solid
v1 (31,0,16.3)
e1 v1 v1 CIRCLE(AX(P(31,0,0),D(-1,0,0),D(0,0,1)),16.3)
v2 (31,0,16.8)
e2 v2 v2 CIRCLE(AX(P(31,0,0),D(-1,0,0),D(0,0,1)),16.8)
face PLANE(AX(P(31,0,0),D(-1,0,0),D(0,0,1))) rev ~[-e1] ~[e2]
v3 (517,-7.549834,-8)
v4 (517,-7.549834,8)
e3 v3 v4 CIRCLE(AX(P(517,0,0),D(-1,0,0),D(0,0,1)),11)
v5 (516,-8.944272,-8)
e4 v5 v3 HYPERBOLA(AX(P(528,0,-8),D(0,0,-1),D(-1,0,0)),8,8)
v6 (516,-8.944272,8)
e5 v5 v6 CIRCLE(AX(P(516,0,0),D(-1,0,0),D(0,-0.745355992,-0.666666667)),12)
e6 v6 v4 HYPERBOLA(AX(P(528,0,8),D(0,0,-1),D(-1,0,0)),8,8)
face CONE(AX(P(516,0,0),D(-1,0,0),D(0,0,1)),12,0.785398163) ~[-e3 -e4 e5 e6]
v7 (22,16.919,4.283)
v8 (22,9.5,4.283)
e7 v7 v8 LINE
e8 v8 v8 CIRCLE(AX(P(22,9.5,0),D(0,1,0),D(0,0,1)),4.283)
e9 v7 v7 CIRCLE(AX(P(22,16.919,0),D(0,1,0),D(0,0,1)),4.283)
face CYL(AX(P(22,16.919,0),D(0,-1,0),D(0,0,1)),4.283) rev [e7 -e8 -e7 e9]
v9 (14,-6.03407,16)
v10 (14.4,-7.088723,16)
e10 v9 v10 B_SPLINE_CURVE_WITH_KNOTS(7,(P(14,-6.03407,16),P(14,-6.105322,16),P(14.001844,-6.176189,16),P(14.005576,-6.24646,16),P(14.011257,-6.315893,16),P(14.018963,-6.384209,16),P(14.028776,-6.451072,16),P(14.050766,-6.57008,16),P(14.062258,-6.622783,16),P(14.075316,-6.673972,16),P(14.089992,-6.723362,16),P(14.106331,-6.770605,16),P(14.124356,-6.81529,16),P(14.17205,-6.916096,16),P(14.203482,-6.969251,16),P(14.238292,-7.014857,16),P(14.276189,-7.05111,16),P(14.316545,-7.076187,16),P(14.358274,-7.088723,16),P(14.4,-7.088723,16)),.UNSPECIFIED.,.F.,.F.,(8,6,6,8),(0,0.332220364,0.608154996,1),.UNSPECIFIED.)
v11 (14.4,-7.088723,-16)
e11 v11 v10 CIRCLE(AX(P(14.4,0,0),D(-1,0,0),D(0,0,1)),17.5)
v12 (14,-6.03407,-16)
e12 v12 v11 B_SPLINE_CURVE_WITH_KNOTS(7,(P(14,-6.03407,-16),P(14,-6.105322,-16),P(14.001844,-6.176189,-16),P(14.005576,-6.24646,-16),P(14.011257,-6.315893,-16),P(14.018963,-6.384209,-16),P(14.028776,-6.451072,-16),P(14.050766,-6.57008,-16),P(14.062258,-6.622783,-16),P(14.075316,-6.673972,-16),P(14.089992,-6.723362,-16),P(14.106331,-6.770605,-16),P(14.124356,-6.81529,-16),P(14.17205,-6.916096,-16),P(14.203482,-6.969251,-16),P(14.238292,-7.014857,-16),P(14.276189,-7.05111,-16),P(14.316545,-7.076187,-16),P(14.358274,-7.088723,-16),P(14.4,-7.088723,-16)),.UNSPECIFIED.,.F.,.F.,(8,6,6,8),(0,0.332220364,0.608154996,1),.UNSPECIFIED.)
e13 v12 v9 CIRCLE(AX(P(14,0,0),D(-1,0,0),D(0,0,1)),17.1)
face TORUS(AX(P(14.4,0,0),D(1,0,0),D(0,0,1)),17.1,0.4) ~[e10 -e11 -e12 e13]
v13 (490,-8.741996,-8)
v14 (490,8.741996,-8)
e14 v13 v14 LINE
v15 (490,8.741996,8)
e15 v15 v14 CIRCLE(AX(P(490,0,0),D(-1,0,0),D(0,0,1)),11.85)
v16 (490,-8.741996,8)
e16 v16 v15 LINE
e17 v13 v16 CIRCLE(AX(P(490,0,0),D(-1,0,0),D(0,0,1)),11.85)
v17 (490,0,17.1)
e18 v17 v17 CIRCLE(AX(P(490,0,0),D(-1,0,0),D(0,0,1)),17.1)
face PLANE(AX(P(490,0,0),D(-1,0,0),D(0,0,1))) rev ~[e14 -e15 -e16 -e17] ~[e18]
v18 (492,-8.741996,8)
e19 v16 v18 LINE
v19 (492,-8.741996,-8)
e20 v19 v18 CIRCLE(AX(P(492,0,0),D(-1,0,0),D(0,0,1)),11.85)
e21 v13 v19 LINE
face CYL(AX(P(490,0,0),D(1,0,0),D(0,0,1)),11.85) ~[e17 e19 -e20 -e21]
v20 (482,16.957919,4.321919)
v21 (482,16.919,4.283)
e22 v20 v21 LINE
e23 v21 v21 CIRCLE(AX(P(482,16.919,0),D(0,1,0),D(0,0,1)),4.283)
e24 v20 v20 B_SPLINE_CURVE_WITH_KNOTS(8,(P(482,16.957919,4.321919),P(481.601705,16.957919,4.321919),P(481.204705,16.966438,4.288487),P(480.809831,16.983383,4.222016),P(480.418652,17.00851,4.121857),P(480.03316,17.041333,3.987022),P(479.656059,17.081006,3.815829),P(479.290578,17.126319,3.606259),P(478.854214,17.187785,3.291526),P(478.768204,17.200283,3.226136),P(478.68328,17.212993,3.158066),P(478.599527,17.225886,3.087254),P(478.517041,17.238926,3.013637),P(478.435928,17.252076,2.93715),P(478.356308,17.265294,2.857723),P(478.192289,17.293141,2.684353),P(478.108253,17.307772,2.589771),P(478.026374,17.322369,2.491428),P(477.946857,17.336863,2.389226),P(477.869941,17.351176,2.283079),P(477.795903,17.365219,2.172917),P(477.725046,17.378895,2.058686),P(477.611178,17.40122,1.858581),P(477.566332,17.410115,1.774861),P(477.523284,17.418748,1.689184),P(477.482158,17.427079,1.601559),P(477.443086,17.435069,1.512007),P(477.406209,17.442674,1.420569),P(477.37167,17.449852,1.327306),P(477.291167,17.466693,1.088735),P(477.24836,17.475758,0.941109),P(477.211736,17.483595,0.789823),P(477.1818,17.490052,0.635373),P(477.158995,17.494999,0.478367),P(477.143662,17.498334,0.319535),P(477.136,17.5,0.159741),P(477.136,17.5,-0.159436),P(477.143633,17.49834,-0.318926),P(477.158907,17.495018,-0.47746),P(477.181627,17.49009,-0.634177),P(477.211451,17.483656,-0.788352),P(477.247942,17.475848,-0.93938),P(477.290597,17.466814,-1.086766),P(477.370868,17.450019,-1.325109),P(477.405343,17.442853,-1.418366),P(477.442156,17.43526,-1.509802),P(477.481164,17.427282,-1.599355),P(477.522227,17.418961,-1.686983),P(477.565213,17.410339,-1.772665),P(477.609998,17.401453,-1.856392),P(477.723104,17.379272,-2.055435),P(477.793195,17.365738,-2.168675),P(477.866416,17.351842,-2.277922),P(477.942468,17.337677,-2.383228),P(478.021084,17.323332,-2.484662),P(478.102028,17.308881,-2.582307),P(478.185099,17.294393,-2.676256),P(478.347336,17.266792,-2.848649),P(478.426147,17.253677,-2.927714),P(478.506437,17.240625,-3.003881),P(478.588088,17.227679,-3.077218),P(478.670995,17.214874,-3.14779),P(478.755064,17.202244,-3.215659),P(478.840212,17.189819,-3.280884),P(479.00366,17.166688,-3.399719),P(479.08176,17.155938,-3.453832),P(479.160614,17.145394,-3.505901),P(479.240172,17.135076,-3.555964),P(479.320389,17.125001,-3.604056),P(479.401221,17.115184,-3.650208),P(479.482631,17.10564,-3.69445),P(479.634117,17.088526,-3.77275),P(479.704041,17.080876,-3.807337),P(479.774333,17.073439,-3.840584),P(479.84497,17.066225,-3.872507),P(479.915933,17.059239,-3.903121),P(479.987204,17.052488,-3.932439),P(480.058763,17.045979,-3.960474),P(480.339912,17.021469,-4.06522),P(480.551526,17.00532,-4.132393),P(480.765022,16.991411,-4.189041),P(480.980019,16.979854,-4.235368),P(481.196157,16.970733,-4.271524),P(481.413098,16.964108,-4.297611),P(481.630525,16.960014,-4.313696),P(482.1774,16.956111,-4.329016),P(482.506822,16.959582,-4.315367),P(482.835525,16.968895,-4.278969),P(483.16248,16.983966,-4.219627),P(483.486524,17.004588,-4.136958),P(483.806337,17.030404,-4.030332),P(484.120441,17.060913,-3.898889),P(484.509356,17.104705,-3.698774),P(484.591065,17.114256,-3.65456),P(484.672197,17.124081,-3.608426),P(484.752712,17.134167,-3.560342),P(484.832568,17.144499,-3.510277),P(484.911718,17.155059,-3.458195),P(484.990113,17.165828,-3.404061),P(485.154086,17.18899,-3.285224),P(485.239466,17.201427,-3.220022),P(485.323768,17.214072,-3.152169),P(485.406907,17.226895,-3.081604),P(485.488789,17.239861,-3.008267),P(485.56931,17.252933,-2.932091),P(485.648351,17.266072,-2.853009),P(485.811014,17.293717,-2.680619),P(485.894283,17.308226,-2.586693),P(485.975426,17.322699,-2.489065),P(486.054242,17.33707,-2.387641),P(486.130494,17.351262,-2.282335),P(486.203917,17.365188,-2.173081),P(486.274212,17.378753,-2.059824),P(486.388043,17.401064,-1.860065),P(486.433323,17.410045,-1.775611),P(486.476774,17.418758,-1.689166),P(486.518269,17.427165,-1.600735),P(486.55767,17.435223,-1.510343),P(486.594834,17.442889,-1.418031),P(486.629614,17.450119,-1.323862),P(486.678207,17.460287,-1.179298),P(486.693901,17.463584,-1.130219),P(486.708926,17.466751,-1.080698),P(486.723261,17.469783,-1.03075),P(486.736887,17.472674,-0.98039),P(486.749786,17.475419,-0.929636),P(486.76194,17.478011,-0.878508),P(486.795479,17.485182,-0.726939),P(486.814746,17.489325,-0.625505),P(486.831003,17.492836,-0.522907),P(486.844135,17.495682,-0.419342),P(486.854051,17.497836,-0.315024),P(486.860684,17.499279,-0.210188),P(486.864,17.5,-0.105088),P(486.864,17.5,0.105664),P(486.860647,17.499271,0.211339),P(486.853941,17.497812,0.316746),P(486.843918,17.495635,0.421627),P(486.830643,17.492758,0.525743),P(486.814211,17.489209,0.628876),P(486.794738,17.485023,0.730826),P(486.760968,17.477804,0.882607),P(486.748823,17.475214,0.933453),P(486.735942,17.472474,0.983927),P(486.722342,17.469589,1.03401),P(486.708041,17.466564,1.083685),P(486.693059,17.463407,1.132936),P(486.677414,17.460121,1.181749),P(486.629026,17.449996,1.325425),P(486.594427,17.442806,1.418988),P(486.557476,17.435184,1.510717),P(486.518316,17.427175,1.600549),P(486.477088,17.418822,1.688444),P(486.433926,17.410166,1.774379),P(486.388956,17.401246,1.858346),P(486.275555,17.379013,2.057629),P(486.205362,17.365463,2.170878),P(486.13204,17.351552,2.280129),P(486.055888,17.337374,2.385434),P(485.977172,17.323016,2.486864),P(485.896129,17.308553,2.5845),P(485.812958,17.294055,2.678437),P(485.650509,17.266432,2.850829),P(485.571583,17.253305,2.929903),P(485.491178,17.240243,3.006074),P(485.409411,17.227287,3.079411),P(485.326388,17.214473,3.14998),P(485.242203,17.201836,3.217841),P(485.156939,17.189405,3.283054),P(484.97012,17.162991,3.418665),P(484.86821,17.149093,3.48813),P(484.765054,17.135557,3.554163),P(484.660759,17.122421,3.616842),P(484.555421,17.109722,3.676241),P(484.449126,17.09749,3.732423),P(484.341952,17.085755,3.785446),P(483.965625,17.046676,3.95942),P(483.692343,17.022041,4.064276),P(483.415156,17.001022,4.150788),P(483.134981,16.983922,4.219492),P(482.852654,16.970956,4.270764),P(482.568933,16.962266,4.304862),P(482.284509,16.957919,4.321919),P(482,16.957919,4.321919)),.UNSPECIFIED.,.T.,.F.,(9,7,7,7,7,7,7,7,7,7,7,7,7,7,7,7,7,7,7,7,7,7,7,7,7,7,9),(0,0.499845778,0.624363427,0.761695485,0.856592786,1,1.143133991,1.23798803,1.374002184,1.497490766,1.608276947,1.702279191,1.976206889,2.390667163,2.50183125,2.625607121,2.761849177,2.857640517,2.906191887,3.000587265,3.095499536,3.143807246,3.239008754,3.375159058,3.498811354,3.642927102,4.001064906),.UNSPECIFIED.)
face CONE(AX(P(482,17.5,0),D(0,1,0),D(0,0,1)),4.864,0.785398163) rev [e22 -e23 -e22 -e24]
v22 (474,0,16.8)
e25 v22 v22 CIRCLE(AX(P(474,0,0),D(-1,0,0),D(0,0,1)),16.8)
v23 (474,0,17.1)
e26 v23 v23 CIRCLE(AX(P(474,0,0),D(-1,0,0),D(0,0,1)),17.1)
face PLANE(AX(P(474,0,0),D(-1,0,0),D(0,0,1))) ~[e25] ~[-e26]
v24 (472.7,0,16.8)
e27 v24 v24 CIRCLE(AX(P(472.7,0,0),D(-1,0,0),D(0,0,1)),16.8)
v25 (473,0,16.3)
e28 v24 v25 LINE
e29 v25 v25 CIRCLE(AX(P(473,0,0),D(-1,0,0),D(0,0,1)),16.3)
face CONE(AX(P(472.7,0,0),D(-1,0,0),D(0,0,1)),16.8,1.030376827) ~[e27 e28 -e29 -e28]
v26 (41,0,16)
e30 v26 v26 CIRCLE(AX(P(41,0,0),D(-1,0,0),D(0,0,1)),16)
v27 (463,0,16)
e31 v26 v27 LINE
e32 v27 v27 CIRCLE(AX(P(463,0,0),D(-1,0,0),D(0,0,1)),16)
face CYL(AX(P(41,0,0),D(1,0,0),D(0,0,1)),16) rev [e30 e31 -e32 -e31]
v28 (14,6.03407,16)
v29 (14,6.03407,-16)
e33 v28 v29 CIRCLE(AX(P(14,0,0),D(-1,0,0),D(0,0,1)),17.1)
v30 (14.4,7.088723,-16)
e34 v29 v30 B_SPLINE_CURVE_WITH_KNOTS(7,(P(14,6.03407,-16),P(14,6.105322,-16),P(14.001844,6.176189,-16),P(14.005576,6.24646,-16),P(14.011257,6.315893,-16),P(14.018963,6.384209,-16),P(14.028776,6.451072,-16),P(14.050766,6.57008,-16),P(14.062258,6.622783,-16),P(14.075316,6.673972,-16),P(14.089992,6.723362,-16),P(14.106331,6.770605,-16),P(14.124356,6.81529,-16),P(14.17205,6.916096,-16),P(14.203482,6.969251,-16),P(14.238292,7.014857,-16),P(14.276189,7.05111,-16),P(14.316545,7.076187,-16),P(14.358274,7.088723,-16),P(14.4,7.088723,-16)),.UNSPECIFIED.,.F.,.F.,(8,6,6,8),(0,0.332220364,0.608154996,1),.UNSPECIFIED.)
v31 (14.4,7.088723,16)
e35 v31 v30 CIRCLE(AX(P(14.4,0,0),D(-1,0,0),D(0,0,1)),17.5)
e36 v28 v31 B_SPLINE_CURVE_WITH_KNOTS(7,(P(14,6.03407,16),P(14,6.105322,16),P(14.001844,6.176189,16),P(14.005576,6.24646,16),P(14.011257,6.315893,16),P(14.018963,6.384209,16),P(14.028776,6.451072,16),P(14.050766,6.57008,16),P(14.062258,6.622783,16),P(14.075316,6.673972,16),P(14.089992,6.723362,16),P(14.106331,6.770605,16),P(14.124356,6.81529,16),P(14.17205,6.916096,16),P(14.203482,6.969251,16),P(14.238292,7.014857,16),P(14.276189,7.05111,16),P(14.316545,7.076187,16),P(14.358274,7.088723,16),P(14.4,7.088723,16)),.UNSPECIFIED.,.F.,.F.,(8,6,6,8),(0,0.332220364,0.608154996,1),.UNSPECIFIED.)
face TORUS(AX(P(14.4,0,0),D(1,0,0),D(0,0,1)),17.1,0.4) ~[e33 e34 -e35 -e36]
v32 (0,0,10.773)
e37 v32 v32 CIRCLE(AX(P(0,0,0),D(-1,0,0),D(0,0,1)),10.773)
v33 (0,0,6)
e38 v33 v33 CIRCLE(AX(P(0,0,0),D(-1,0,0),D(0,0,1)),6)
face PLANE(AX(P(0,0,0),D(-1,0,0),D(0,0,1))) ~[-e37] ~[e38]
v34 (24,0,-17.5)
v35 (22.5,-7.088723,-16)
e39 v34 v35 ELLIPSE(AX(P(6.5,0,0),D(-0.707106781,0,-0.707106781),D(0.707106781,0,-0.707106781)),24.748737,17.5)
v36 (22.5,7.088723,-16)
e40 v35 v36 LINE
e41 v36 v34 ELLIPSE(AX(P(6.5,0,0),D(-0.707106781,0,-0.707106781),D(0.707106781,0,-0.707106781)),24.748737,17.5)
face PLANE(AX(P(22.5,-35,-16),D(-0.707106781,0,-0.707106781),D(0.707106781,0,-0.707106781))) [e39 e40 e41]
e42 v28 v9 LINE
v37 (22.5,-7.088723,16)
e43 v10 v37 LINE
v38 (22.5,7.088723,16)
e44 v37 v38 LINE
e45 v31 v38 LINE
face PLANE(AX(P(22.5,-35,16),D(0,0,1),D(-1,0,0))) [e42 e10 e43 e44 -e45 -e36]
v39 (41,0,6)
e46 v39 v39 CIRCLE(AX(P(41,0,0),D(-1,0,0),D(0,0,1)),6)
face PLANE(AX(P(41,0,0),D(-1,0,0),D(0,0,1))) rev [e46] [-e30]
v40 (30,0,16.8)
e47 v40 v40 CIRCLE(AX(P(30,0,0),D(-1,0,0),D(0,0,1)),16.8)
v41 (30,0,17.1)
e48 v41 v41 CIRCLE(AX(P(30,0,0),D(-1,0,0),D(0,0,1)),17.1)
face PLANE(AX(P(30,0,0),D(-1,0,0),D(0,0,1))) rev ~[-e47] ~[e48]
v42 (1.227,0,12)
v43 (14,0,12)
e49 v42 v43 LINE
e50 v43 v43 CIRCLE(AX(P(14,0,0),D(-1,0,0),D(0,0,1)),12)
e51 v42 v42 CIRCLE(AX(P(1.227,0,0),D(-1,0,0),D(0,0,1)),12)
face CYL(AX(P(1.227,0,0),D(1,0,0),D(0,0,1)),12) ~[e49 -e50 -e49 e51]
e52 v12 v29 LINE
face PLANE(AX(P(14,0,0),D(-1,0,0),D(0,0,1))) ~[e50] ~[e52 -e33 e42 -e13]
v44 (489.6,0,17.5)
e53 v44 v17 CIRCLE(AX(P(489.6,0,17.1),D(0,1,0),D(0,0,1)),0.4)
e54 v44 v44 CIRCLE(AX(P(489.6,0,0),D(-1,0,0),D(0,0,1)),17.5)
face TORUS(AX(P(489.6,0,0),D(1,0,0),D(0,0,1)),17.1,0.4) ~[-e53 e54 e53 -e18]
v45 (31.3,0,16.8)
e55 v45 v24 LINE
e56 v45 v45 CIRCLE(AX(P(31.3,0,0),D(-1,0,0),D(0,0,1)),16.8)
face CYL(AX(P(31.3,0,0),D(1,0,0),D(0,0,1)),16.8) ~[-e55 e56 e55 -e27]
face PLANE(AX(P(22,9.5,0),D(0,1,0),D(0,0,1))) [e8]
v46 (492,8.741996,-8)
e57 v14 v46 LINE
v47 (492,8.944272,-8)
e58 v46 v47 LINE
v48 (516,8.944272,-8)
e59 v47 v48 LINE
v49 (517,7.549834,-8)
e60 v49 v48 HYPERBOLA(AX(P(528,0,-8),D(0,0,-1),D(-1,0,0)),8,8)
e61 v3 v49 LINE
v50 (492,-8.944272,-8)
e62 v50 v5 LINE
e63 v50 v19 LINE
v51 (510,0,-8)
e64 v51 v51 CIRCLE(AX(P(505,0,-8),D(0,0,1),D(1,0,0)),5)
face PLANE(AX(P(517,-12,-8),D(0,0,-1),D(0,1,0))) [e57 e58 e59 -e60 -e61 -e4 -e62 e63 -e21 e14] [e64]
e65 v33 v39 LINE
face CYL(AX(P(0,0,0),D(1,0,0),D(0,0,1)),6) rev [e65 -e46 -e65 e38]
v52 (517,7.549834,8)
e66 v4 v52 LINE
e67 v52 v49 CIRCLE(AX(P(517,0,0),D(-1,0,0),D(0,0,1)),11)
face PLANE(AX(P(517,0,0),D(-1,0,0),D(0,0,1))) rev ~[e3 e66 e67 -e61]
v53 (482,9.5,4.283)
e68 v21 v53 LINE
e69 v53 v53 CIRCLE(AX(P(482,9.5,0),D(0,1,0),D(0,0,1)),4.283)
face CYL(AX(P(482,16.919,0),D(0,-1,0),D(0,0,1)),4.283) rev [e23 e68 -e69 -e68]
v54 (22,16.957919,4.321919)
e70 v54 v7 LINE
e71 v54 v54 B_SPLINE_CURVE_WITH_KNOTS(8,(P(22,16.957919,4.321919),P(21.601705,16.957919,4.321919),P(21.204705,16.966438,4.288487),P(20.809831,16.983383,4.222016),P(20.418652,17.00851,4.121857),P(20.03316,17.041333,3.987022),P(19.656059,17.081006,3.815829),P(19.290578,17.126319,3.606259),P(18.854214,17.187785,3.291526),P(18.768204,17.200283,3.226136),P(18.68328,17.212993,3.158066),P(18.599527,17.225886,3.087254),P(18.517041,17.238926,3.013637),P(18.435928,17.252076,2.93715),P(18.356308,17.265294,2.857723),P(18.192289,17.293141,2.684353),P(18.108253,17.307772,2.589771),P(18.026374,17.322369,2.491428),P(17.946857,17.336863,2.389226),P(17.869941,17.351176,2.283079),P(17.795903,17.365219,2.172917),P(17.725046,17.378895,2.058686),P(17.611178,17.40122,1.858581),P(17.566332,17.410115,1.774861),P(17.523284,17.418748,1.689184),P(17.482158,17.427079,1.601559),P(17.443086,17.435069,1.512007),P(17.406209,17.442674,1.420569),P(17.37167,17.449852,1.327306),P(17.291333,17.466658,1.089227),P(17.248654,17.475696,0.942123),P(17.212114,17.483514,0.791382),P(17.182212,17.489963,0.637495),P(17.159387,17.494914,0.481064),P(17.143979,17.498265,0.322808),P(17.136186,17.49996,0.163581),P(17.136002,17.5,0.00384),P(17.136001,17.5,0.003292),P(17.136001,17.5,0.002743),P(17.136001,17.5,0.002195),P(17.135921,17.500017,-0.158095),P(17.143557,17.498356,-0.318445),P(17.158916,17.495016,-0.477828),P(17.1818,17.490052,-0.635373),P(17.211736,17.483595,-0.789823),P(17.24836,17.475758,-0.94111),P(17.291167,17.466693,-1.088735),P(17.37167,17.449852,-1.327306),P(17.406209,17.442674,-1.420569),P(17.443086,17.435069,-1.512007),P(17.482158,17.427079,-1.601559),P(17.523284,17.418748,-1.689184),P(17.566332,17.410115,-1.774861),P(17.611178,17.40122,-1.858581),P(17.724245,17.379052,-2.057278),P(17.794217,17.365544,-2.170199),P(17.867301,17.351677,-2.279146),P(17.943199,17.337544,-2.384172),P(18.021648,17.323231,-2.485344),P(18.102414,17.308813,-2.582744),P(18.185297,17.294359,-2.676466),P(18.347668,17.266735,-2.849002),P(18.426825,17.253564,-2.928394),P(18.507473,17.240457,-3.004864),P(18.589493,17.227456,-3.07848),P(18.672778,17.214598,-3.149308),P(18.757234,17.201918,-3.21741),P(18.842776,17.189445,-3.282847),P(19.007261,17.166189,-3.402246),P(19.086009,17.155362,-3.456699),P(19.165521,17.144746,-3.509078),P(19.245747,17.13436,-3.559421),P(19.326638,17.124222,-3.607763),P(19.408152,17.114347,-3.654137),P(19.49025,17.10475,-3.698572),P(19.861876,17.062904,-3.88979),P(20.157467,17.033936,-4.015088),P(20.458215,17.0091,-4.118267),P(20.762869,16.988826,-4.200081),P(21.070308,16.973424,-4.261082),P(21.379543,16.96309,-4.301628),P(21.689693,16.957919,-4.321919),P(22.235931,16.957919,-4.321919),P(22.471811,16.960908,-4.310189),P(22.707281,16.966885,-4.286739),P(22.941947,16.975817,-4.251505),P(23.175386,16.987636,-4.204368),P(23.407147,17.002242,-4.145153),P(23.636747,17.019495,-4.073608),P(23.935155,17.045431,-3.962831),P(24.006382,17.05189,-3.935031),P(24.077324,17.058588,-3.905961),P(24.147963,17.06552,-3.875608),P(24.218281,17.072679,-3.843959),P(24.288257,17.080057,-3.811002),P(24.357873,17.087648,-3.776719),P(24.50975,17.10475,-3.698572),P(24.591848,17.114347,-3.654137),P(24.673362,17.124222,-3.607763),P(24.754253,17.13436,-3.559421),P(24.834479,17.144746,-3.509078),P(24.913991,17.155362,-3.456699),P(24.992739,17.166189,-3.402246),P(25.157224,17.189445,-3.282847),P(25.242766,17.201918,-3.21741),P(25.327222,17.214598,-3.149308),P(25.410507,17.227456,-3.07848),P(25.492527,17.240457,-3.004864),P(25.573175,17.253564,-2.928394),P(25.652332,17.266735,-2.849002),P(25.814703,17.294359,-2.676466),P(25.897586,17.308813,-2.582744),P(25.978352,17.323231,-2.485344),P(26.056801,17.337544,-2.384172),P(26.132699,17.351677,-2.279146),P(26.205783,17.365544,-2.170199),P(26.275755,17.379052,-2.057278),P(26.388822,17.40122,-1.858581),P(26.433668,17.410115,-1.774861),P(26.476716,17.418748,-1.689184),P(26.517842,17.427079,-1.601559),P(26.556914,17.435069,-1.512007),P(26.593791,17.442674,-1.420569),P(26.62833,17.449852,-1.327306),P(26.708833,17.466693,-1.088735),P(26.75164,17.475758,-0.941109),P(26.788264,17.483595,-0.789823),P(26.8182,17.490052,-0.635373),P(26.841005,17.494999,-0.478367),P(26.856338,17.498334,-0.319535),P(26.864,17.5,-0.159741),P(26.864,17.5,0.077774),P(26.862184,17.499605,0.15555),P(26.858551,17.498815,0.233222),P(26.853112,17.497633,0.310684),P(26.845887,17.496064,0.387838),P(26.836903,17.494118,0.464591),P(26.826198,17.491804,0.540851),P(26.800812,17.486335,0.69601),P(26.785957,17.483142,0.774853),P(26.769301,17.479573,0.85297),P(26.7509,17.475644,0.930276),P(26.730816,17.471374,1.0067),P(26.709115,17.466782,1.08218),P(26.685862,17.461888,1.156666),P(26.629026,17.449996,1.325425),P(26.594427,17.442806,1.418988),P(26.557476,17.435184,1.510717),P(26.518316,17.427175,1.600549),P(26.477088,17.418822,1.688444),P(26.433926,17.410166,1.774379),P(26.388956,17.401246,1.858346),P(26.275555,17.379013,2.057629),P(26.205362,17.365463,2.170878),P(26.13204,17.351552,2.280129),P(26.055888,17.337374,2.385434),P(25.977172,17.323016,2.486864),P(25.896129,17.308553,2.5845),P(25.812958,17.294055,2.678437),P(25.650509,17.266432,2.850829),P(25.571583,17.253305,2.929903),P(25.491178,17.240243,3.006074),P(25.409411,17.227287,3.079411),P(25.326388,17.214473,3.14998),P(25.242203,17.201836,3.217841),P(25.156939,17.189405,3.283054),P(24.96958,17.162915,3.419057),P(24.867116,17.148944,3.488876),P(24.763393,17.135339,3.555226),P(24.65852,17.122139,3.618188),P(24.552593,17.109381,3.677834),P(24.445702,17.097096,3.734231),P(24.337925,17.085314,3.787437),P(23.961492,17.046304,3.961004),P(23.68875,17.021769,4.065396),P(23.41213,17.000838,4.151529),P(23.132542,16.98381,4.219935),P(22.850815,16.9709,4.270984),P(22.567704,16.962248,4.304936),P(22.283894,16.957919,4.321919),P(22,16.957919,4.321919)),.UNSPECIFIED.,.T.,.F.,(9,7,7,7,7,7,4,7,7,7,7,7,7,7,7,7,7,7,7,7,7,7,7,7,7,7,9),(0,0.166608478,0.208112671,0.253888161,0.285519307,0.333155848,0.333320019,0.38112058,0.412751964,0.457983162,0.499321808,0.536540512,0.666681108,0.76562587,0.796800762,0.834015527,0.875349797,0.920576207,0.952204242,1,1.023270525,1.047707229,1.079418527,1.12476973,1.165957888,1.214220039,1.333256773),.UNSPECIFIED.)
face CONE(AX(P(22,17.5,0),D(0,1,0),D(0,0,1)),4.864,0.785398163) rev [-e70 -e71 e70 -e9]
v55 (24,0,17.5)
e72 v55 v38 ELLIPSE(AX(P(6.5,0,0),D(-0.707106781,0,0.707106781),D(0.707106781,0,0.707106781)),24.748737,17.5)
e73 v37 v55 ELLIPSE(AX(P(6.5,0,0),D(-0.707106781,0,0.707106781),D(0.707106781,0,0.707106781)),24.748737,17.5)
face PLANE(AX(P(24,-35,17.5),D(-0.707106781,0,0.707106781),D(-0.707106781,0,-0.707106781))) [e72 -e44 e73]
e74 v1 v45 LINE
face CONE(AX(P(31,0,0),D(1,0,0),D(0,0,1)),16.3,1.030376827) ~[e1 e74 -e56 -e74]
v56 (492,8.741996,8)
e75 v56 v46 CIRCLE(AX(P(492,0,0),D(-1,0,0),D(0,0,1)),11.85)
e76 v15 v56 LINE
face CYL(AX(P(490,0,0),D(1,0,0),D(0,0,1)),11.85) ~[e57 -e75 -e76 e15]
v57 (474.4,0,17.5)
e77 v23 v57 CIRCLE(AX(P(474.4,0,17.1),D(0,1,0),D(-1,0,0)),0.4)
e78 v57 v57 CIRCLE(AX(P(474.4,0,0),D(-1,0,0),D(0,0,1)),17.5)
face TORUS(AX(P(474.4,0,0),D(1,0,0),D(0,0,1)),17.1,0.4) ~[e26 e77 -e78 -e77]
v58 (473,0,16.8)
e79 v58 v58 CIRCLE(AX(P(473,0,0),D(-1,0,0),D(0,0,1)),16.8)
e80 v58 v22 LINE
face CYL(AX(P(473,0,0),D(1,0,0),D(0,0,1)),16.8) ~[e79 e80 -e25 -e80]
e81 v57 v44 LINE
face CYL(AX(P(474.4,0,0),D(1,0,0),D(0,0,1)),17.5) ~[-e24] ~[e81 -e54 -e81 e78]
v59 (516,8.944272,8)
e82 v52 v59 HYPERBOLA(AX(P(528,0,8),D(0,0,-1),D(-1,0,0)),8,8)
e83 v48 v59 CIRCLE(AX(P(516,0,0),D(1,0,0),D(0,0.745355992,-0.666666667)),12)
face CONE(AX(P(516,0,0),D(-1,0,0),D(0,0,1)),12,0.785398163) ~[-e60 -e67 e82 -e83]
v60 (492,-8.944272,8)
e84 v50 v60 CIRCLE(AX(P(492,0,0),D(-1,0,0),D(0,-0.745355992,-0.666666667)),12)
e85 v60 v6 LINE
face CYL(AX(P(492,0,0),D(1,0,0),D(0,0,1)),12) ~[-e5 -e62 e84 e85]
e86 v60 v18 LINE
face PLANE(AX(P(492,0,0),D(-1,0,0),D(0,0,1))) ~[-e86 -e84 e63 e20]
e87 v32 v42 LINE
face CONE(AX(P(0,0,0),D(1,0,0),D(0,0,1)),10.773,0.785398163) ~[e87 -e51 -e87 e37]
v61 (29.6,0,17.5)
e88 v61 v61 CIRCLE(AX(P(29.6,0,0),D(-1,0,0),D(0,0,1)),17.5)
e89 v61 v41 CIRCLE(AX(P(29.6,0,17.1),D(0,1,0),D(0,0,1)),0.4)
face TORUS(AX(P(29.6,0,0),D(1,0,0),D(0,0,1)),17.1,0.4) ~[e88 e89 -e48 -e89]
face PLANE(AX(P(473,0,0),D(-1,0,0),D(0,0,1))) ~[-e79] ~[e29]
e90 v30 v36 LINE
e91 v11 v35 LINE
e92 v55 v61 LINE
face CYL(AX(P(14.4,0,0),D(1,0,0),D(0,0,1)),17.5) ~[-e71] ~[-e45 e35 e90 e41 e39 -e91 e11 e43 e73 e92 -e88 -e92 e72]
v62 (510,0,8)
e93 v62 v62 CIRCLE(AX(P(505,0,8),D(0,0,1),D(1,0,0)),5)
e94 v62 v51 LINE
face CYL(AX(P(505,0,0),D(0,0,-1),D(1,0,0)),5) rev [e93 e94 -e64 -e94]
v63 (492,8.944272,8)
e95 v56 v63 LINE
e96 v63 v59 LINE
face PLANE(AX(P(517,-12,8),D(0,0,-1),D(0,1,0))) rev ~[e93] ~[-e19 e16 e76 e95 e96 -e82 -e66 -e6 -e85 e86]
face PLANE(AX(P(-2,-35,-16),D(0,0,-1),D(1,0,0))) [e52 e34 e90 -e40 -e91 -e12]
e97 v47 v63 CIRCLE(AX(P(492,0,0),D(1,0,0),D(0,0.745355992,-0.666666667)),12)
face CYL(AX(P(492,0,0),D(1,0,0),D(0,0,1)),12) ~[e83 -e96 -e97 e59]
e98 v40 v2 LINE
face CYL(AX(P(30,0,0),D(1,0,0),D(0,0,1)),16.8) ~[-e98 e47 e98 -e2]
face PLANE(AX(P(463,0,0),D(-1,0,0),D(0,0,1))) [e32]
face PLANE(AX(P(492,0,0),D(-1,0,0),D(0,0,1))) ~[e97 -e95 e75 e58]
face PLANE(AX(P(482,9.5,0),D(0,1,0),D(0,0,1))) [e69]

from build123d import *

# Parameters (mm, degrees)
SKETCH_3_W               = 36
SKETCH_3_H               = 44
SKETCH_3_W_2             = 16
SKETCH_3_H_2             = 24
CUT_EXTRUDE_1_DEPTH      = 27
SKETCH_4_W               = 16
SKETCH_4_H               = 5
CUT_EXTRUDE_2_DEPTH      = 35
CUT_EXTRUDE_2_DEPTH_BACK = 35


with BuildPart() as part:
    # 草图1 → 旋转1 (revolve)
    with BuildSketch(Plane.XY):
        with BuildLine():
            Line((0, 0), (0, 10.773))
            Line((0, 10.773), (1.227, 12))
            Line((1.227, 12), (14, 12))
            Line((14, 12), (14, 17.1))
            ThreePointArc((14, 17.1), (14.117157288, 17.382842712), (14.4, 17.5))
            Line((14.4, 17.5), (29.6, 17.5))
            ThreePointArc((29.6, 17.5), (29.882842712, 17.382842712), (30, 17.1))
            Line((30, 17.1), (30, 16.8))
            Line((30, 16.8), (31, 16.8))
            Line((31, 16.8), (31, 16.3))
            Line((31, 16.3), (31.3, 16.8))
            Line((31.3, 16.8), (472.7, 16.8))
            Line((472.7, 16.8), (473, 16.3))
            Line((473, 16.3), (473, 16.8))
            Line((473, 16.8), (474, 16.8))
            Line((474, 16.8), (474, 17.1))
            ThreePointArc((474, 17.1), (474.117157288, 17.382842712), (474.4, 17.5))
            Line((474.4, 17.5), (489.6, 17.5))
            ThreePointArc((489.6, 17.5), (489.882842712, 17.382842712), (490, 17.1))
            Line((490, 17.1), (490, 0))
            Line((490, 0), (0, 0))
        make_face()
    revolve(axis=Axis((490, 0, 0), (-1, 0, 0)))

    # 草图2 → 旋转2 (revolve)
    with BuildSketch(Plane.XY):
        Polygon((490, 0), (490, 11.85), (492, 11.85), (492, 12), (516, 12), (517, 11), (517, 0), align=None)
    revolve(axis=Axis((517, 0, 0), (-1, 0, 0)))

    # 草图3 → 切除-拉伸1 (cut)
    with BuildSketch(Plane(origin=(517, 0, 0), x_dir=(0, 0, -1), z_dir=(1, 0, 0))):
        Rectangle(SKETCH_3_W, SKETCH_3_H)
        Rectangle(SKETCH_3_W_2, SKETCH_3_H_2, mode=Mode.SUBTRACT)
    extrude(amount=-CUT_EXTRUDE_1_DEPTH, mode=Mode.SUBTRACT)

    # 草图4 → 切除-旋转1 (revolve, cut)
    with BuildSketch(Plane(origin=(505, 0, 0), x_dir=(0, 0, -1), z_dir=(1, 0, 0))):
        with Locations((0, 2.5)):
            Rectangle(SKETCH_4_W, SKETCH_4_H)
    revolve(axis=Axis((505, 0, -8), (0, 0, 1)), mode=Mode.SUBTRACT)

    # 草图5 → 切除-旋转2 (revolve, cut)
    with BuildSketch(Plane.XY):
        Polygon((22, 17.5), (26.864, 17.5), (26.283, 16.919), (26.283, 9.5), (22, 9.5), align=None)
    revolve(axis=Axis((22, 9.5, 0), (0, 1, 0)), mode=Mode.SUBTRACT)

    # 草图6 → 切除-旋转3 (revolve, cut)
    with BuildSketch(Plane.XY):
        Polygon((482, 17.5), (486.864, 17.5), (486.283, 16.919), (486.283, 9.5), (482, 9.5), align=None)
    revolve(axis=Axis((482, 9.5, 0), (0, 1, 0)), mode=Mode.SUBTRACT)

    # 草图7 → 切除-拉伸2 (cut, two sides: drawn at the far end of the back side and taken through both)
    with BuildSketch(Plane(origin=(0, 0, 0), x_dir=(1, 0, 0), z_dir=(0, 1, 0)).offset(-CUT_EXTRUDE_2_DEPTH_BACK)):
        Polygon((-4, -17.5), (24, -17.5), (22.5, -16), (-2, -16), (-2, 16), (22.5, 16), (24, 17.5), (-4, 17.5), align=None)
    extrude(amount=CUT_EXTRUDE_2_DEPTH + CUT_EXTRUDE_2_DEPTH_BACK, mode=Mode.SUBTRACT)

    # 草图8 → 切除-旋转4 (revolve, cut)
    with BuildSketch(Plane.XY):
        Polygon((0, 0), (0, 6), (41, 6), (41, 16), (463, 16), (463, 0), align=None)
    revolve(axis=Axis((463, 0, 0), (-1, 0, 0)), mode=Mode.SUBTRACT)


solid = part.part
